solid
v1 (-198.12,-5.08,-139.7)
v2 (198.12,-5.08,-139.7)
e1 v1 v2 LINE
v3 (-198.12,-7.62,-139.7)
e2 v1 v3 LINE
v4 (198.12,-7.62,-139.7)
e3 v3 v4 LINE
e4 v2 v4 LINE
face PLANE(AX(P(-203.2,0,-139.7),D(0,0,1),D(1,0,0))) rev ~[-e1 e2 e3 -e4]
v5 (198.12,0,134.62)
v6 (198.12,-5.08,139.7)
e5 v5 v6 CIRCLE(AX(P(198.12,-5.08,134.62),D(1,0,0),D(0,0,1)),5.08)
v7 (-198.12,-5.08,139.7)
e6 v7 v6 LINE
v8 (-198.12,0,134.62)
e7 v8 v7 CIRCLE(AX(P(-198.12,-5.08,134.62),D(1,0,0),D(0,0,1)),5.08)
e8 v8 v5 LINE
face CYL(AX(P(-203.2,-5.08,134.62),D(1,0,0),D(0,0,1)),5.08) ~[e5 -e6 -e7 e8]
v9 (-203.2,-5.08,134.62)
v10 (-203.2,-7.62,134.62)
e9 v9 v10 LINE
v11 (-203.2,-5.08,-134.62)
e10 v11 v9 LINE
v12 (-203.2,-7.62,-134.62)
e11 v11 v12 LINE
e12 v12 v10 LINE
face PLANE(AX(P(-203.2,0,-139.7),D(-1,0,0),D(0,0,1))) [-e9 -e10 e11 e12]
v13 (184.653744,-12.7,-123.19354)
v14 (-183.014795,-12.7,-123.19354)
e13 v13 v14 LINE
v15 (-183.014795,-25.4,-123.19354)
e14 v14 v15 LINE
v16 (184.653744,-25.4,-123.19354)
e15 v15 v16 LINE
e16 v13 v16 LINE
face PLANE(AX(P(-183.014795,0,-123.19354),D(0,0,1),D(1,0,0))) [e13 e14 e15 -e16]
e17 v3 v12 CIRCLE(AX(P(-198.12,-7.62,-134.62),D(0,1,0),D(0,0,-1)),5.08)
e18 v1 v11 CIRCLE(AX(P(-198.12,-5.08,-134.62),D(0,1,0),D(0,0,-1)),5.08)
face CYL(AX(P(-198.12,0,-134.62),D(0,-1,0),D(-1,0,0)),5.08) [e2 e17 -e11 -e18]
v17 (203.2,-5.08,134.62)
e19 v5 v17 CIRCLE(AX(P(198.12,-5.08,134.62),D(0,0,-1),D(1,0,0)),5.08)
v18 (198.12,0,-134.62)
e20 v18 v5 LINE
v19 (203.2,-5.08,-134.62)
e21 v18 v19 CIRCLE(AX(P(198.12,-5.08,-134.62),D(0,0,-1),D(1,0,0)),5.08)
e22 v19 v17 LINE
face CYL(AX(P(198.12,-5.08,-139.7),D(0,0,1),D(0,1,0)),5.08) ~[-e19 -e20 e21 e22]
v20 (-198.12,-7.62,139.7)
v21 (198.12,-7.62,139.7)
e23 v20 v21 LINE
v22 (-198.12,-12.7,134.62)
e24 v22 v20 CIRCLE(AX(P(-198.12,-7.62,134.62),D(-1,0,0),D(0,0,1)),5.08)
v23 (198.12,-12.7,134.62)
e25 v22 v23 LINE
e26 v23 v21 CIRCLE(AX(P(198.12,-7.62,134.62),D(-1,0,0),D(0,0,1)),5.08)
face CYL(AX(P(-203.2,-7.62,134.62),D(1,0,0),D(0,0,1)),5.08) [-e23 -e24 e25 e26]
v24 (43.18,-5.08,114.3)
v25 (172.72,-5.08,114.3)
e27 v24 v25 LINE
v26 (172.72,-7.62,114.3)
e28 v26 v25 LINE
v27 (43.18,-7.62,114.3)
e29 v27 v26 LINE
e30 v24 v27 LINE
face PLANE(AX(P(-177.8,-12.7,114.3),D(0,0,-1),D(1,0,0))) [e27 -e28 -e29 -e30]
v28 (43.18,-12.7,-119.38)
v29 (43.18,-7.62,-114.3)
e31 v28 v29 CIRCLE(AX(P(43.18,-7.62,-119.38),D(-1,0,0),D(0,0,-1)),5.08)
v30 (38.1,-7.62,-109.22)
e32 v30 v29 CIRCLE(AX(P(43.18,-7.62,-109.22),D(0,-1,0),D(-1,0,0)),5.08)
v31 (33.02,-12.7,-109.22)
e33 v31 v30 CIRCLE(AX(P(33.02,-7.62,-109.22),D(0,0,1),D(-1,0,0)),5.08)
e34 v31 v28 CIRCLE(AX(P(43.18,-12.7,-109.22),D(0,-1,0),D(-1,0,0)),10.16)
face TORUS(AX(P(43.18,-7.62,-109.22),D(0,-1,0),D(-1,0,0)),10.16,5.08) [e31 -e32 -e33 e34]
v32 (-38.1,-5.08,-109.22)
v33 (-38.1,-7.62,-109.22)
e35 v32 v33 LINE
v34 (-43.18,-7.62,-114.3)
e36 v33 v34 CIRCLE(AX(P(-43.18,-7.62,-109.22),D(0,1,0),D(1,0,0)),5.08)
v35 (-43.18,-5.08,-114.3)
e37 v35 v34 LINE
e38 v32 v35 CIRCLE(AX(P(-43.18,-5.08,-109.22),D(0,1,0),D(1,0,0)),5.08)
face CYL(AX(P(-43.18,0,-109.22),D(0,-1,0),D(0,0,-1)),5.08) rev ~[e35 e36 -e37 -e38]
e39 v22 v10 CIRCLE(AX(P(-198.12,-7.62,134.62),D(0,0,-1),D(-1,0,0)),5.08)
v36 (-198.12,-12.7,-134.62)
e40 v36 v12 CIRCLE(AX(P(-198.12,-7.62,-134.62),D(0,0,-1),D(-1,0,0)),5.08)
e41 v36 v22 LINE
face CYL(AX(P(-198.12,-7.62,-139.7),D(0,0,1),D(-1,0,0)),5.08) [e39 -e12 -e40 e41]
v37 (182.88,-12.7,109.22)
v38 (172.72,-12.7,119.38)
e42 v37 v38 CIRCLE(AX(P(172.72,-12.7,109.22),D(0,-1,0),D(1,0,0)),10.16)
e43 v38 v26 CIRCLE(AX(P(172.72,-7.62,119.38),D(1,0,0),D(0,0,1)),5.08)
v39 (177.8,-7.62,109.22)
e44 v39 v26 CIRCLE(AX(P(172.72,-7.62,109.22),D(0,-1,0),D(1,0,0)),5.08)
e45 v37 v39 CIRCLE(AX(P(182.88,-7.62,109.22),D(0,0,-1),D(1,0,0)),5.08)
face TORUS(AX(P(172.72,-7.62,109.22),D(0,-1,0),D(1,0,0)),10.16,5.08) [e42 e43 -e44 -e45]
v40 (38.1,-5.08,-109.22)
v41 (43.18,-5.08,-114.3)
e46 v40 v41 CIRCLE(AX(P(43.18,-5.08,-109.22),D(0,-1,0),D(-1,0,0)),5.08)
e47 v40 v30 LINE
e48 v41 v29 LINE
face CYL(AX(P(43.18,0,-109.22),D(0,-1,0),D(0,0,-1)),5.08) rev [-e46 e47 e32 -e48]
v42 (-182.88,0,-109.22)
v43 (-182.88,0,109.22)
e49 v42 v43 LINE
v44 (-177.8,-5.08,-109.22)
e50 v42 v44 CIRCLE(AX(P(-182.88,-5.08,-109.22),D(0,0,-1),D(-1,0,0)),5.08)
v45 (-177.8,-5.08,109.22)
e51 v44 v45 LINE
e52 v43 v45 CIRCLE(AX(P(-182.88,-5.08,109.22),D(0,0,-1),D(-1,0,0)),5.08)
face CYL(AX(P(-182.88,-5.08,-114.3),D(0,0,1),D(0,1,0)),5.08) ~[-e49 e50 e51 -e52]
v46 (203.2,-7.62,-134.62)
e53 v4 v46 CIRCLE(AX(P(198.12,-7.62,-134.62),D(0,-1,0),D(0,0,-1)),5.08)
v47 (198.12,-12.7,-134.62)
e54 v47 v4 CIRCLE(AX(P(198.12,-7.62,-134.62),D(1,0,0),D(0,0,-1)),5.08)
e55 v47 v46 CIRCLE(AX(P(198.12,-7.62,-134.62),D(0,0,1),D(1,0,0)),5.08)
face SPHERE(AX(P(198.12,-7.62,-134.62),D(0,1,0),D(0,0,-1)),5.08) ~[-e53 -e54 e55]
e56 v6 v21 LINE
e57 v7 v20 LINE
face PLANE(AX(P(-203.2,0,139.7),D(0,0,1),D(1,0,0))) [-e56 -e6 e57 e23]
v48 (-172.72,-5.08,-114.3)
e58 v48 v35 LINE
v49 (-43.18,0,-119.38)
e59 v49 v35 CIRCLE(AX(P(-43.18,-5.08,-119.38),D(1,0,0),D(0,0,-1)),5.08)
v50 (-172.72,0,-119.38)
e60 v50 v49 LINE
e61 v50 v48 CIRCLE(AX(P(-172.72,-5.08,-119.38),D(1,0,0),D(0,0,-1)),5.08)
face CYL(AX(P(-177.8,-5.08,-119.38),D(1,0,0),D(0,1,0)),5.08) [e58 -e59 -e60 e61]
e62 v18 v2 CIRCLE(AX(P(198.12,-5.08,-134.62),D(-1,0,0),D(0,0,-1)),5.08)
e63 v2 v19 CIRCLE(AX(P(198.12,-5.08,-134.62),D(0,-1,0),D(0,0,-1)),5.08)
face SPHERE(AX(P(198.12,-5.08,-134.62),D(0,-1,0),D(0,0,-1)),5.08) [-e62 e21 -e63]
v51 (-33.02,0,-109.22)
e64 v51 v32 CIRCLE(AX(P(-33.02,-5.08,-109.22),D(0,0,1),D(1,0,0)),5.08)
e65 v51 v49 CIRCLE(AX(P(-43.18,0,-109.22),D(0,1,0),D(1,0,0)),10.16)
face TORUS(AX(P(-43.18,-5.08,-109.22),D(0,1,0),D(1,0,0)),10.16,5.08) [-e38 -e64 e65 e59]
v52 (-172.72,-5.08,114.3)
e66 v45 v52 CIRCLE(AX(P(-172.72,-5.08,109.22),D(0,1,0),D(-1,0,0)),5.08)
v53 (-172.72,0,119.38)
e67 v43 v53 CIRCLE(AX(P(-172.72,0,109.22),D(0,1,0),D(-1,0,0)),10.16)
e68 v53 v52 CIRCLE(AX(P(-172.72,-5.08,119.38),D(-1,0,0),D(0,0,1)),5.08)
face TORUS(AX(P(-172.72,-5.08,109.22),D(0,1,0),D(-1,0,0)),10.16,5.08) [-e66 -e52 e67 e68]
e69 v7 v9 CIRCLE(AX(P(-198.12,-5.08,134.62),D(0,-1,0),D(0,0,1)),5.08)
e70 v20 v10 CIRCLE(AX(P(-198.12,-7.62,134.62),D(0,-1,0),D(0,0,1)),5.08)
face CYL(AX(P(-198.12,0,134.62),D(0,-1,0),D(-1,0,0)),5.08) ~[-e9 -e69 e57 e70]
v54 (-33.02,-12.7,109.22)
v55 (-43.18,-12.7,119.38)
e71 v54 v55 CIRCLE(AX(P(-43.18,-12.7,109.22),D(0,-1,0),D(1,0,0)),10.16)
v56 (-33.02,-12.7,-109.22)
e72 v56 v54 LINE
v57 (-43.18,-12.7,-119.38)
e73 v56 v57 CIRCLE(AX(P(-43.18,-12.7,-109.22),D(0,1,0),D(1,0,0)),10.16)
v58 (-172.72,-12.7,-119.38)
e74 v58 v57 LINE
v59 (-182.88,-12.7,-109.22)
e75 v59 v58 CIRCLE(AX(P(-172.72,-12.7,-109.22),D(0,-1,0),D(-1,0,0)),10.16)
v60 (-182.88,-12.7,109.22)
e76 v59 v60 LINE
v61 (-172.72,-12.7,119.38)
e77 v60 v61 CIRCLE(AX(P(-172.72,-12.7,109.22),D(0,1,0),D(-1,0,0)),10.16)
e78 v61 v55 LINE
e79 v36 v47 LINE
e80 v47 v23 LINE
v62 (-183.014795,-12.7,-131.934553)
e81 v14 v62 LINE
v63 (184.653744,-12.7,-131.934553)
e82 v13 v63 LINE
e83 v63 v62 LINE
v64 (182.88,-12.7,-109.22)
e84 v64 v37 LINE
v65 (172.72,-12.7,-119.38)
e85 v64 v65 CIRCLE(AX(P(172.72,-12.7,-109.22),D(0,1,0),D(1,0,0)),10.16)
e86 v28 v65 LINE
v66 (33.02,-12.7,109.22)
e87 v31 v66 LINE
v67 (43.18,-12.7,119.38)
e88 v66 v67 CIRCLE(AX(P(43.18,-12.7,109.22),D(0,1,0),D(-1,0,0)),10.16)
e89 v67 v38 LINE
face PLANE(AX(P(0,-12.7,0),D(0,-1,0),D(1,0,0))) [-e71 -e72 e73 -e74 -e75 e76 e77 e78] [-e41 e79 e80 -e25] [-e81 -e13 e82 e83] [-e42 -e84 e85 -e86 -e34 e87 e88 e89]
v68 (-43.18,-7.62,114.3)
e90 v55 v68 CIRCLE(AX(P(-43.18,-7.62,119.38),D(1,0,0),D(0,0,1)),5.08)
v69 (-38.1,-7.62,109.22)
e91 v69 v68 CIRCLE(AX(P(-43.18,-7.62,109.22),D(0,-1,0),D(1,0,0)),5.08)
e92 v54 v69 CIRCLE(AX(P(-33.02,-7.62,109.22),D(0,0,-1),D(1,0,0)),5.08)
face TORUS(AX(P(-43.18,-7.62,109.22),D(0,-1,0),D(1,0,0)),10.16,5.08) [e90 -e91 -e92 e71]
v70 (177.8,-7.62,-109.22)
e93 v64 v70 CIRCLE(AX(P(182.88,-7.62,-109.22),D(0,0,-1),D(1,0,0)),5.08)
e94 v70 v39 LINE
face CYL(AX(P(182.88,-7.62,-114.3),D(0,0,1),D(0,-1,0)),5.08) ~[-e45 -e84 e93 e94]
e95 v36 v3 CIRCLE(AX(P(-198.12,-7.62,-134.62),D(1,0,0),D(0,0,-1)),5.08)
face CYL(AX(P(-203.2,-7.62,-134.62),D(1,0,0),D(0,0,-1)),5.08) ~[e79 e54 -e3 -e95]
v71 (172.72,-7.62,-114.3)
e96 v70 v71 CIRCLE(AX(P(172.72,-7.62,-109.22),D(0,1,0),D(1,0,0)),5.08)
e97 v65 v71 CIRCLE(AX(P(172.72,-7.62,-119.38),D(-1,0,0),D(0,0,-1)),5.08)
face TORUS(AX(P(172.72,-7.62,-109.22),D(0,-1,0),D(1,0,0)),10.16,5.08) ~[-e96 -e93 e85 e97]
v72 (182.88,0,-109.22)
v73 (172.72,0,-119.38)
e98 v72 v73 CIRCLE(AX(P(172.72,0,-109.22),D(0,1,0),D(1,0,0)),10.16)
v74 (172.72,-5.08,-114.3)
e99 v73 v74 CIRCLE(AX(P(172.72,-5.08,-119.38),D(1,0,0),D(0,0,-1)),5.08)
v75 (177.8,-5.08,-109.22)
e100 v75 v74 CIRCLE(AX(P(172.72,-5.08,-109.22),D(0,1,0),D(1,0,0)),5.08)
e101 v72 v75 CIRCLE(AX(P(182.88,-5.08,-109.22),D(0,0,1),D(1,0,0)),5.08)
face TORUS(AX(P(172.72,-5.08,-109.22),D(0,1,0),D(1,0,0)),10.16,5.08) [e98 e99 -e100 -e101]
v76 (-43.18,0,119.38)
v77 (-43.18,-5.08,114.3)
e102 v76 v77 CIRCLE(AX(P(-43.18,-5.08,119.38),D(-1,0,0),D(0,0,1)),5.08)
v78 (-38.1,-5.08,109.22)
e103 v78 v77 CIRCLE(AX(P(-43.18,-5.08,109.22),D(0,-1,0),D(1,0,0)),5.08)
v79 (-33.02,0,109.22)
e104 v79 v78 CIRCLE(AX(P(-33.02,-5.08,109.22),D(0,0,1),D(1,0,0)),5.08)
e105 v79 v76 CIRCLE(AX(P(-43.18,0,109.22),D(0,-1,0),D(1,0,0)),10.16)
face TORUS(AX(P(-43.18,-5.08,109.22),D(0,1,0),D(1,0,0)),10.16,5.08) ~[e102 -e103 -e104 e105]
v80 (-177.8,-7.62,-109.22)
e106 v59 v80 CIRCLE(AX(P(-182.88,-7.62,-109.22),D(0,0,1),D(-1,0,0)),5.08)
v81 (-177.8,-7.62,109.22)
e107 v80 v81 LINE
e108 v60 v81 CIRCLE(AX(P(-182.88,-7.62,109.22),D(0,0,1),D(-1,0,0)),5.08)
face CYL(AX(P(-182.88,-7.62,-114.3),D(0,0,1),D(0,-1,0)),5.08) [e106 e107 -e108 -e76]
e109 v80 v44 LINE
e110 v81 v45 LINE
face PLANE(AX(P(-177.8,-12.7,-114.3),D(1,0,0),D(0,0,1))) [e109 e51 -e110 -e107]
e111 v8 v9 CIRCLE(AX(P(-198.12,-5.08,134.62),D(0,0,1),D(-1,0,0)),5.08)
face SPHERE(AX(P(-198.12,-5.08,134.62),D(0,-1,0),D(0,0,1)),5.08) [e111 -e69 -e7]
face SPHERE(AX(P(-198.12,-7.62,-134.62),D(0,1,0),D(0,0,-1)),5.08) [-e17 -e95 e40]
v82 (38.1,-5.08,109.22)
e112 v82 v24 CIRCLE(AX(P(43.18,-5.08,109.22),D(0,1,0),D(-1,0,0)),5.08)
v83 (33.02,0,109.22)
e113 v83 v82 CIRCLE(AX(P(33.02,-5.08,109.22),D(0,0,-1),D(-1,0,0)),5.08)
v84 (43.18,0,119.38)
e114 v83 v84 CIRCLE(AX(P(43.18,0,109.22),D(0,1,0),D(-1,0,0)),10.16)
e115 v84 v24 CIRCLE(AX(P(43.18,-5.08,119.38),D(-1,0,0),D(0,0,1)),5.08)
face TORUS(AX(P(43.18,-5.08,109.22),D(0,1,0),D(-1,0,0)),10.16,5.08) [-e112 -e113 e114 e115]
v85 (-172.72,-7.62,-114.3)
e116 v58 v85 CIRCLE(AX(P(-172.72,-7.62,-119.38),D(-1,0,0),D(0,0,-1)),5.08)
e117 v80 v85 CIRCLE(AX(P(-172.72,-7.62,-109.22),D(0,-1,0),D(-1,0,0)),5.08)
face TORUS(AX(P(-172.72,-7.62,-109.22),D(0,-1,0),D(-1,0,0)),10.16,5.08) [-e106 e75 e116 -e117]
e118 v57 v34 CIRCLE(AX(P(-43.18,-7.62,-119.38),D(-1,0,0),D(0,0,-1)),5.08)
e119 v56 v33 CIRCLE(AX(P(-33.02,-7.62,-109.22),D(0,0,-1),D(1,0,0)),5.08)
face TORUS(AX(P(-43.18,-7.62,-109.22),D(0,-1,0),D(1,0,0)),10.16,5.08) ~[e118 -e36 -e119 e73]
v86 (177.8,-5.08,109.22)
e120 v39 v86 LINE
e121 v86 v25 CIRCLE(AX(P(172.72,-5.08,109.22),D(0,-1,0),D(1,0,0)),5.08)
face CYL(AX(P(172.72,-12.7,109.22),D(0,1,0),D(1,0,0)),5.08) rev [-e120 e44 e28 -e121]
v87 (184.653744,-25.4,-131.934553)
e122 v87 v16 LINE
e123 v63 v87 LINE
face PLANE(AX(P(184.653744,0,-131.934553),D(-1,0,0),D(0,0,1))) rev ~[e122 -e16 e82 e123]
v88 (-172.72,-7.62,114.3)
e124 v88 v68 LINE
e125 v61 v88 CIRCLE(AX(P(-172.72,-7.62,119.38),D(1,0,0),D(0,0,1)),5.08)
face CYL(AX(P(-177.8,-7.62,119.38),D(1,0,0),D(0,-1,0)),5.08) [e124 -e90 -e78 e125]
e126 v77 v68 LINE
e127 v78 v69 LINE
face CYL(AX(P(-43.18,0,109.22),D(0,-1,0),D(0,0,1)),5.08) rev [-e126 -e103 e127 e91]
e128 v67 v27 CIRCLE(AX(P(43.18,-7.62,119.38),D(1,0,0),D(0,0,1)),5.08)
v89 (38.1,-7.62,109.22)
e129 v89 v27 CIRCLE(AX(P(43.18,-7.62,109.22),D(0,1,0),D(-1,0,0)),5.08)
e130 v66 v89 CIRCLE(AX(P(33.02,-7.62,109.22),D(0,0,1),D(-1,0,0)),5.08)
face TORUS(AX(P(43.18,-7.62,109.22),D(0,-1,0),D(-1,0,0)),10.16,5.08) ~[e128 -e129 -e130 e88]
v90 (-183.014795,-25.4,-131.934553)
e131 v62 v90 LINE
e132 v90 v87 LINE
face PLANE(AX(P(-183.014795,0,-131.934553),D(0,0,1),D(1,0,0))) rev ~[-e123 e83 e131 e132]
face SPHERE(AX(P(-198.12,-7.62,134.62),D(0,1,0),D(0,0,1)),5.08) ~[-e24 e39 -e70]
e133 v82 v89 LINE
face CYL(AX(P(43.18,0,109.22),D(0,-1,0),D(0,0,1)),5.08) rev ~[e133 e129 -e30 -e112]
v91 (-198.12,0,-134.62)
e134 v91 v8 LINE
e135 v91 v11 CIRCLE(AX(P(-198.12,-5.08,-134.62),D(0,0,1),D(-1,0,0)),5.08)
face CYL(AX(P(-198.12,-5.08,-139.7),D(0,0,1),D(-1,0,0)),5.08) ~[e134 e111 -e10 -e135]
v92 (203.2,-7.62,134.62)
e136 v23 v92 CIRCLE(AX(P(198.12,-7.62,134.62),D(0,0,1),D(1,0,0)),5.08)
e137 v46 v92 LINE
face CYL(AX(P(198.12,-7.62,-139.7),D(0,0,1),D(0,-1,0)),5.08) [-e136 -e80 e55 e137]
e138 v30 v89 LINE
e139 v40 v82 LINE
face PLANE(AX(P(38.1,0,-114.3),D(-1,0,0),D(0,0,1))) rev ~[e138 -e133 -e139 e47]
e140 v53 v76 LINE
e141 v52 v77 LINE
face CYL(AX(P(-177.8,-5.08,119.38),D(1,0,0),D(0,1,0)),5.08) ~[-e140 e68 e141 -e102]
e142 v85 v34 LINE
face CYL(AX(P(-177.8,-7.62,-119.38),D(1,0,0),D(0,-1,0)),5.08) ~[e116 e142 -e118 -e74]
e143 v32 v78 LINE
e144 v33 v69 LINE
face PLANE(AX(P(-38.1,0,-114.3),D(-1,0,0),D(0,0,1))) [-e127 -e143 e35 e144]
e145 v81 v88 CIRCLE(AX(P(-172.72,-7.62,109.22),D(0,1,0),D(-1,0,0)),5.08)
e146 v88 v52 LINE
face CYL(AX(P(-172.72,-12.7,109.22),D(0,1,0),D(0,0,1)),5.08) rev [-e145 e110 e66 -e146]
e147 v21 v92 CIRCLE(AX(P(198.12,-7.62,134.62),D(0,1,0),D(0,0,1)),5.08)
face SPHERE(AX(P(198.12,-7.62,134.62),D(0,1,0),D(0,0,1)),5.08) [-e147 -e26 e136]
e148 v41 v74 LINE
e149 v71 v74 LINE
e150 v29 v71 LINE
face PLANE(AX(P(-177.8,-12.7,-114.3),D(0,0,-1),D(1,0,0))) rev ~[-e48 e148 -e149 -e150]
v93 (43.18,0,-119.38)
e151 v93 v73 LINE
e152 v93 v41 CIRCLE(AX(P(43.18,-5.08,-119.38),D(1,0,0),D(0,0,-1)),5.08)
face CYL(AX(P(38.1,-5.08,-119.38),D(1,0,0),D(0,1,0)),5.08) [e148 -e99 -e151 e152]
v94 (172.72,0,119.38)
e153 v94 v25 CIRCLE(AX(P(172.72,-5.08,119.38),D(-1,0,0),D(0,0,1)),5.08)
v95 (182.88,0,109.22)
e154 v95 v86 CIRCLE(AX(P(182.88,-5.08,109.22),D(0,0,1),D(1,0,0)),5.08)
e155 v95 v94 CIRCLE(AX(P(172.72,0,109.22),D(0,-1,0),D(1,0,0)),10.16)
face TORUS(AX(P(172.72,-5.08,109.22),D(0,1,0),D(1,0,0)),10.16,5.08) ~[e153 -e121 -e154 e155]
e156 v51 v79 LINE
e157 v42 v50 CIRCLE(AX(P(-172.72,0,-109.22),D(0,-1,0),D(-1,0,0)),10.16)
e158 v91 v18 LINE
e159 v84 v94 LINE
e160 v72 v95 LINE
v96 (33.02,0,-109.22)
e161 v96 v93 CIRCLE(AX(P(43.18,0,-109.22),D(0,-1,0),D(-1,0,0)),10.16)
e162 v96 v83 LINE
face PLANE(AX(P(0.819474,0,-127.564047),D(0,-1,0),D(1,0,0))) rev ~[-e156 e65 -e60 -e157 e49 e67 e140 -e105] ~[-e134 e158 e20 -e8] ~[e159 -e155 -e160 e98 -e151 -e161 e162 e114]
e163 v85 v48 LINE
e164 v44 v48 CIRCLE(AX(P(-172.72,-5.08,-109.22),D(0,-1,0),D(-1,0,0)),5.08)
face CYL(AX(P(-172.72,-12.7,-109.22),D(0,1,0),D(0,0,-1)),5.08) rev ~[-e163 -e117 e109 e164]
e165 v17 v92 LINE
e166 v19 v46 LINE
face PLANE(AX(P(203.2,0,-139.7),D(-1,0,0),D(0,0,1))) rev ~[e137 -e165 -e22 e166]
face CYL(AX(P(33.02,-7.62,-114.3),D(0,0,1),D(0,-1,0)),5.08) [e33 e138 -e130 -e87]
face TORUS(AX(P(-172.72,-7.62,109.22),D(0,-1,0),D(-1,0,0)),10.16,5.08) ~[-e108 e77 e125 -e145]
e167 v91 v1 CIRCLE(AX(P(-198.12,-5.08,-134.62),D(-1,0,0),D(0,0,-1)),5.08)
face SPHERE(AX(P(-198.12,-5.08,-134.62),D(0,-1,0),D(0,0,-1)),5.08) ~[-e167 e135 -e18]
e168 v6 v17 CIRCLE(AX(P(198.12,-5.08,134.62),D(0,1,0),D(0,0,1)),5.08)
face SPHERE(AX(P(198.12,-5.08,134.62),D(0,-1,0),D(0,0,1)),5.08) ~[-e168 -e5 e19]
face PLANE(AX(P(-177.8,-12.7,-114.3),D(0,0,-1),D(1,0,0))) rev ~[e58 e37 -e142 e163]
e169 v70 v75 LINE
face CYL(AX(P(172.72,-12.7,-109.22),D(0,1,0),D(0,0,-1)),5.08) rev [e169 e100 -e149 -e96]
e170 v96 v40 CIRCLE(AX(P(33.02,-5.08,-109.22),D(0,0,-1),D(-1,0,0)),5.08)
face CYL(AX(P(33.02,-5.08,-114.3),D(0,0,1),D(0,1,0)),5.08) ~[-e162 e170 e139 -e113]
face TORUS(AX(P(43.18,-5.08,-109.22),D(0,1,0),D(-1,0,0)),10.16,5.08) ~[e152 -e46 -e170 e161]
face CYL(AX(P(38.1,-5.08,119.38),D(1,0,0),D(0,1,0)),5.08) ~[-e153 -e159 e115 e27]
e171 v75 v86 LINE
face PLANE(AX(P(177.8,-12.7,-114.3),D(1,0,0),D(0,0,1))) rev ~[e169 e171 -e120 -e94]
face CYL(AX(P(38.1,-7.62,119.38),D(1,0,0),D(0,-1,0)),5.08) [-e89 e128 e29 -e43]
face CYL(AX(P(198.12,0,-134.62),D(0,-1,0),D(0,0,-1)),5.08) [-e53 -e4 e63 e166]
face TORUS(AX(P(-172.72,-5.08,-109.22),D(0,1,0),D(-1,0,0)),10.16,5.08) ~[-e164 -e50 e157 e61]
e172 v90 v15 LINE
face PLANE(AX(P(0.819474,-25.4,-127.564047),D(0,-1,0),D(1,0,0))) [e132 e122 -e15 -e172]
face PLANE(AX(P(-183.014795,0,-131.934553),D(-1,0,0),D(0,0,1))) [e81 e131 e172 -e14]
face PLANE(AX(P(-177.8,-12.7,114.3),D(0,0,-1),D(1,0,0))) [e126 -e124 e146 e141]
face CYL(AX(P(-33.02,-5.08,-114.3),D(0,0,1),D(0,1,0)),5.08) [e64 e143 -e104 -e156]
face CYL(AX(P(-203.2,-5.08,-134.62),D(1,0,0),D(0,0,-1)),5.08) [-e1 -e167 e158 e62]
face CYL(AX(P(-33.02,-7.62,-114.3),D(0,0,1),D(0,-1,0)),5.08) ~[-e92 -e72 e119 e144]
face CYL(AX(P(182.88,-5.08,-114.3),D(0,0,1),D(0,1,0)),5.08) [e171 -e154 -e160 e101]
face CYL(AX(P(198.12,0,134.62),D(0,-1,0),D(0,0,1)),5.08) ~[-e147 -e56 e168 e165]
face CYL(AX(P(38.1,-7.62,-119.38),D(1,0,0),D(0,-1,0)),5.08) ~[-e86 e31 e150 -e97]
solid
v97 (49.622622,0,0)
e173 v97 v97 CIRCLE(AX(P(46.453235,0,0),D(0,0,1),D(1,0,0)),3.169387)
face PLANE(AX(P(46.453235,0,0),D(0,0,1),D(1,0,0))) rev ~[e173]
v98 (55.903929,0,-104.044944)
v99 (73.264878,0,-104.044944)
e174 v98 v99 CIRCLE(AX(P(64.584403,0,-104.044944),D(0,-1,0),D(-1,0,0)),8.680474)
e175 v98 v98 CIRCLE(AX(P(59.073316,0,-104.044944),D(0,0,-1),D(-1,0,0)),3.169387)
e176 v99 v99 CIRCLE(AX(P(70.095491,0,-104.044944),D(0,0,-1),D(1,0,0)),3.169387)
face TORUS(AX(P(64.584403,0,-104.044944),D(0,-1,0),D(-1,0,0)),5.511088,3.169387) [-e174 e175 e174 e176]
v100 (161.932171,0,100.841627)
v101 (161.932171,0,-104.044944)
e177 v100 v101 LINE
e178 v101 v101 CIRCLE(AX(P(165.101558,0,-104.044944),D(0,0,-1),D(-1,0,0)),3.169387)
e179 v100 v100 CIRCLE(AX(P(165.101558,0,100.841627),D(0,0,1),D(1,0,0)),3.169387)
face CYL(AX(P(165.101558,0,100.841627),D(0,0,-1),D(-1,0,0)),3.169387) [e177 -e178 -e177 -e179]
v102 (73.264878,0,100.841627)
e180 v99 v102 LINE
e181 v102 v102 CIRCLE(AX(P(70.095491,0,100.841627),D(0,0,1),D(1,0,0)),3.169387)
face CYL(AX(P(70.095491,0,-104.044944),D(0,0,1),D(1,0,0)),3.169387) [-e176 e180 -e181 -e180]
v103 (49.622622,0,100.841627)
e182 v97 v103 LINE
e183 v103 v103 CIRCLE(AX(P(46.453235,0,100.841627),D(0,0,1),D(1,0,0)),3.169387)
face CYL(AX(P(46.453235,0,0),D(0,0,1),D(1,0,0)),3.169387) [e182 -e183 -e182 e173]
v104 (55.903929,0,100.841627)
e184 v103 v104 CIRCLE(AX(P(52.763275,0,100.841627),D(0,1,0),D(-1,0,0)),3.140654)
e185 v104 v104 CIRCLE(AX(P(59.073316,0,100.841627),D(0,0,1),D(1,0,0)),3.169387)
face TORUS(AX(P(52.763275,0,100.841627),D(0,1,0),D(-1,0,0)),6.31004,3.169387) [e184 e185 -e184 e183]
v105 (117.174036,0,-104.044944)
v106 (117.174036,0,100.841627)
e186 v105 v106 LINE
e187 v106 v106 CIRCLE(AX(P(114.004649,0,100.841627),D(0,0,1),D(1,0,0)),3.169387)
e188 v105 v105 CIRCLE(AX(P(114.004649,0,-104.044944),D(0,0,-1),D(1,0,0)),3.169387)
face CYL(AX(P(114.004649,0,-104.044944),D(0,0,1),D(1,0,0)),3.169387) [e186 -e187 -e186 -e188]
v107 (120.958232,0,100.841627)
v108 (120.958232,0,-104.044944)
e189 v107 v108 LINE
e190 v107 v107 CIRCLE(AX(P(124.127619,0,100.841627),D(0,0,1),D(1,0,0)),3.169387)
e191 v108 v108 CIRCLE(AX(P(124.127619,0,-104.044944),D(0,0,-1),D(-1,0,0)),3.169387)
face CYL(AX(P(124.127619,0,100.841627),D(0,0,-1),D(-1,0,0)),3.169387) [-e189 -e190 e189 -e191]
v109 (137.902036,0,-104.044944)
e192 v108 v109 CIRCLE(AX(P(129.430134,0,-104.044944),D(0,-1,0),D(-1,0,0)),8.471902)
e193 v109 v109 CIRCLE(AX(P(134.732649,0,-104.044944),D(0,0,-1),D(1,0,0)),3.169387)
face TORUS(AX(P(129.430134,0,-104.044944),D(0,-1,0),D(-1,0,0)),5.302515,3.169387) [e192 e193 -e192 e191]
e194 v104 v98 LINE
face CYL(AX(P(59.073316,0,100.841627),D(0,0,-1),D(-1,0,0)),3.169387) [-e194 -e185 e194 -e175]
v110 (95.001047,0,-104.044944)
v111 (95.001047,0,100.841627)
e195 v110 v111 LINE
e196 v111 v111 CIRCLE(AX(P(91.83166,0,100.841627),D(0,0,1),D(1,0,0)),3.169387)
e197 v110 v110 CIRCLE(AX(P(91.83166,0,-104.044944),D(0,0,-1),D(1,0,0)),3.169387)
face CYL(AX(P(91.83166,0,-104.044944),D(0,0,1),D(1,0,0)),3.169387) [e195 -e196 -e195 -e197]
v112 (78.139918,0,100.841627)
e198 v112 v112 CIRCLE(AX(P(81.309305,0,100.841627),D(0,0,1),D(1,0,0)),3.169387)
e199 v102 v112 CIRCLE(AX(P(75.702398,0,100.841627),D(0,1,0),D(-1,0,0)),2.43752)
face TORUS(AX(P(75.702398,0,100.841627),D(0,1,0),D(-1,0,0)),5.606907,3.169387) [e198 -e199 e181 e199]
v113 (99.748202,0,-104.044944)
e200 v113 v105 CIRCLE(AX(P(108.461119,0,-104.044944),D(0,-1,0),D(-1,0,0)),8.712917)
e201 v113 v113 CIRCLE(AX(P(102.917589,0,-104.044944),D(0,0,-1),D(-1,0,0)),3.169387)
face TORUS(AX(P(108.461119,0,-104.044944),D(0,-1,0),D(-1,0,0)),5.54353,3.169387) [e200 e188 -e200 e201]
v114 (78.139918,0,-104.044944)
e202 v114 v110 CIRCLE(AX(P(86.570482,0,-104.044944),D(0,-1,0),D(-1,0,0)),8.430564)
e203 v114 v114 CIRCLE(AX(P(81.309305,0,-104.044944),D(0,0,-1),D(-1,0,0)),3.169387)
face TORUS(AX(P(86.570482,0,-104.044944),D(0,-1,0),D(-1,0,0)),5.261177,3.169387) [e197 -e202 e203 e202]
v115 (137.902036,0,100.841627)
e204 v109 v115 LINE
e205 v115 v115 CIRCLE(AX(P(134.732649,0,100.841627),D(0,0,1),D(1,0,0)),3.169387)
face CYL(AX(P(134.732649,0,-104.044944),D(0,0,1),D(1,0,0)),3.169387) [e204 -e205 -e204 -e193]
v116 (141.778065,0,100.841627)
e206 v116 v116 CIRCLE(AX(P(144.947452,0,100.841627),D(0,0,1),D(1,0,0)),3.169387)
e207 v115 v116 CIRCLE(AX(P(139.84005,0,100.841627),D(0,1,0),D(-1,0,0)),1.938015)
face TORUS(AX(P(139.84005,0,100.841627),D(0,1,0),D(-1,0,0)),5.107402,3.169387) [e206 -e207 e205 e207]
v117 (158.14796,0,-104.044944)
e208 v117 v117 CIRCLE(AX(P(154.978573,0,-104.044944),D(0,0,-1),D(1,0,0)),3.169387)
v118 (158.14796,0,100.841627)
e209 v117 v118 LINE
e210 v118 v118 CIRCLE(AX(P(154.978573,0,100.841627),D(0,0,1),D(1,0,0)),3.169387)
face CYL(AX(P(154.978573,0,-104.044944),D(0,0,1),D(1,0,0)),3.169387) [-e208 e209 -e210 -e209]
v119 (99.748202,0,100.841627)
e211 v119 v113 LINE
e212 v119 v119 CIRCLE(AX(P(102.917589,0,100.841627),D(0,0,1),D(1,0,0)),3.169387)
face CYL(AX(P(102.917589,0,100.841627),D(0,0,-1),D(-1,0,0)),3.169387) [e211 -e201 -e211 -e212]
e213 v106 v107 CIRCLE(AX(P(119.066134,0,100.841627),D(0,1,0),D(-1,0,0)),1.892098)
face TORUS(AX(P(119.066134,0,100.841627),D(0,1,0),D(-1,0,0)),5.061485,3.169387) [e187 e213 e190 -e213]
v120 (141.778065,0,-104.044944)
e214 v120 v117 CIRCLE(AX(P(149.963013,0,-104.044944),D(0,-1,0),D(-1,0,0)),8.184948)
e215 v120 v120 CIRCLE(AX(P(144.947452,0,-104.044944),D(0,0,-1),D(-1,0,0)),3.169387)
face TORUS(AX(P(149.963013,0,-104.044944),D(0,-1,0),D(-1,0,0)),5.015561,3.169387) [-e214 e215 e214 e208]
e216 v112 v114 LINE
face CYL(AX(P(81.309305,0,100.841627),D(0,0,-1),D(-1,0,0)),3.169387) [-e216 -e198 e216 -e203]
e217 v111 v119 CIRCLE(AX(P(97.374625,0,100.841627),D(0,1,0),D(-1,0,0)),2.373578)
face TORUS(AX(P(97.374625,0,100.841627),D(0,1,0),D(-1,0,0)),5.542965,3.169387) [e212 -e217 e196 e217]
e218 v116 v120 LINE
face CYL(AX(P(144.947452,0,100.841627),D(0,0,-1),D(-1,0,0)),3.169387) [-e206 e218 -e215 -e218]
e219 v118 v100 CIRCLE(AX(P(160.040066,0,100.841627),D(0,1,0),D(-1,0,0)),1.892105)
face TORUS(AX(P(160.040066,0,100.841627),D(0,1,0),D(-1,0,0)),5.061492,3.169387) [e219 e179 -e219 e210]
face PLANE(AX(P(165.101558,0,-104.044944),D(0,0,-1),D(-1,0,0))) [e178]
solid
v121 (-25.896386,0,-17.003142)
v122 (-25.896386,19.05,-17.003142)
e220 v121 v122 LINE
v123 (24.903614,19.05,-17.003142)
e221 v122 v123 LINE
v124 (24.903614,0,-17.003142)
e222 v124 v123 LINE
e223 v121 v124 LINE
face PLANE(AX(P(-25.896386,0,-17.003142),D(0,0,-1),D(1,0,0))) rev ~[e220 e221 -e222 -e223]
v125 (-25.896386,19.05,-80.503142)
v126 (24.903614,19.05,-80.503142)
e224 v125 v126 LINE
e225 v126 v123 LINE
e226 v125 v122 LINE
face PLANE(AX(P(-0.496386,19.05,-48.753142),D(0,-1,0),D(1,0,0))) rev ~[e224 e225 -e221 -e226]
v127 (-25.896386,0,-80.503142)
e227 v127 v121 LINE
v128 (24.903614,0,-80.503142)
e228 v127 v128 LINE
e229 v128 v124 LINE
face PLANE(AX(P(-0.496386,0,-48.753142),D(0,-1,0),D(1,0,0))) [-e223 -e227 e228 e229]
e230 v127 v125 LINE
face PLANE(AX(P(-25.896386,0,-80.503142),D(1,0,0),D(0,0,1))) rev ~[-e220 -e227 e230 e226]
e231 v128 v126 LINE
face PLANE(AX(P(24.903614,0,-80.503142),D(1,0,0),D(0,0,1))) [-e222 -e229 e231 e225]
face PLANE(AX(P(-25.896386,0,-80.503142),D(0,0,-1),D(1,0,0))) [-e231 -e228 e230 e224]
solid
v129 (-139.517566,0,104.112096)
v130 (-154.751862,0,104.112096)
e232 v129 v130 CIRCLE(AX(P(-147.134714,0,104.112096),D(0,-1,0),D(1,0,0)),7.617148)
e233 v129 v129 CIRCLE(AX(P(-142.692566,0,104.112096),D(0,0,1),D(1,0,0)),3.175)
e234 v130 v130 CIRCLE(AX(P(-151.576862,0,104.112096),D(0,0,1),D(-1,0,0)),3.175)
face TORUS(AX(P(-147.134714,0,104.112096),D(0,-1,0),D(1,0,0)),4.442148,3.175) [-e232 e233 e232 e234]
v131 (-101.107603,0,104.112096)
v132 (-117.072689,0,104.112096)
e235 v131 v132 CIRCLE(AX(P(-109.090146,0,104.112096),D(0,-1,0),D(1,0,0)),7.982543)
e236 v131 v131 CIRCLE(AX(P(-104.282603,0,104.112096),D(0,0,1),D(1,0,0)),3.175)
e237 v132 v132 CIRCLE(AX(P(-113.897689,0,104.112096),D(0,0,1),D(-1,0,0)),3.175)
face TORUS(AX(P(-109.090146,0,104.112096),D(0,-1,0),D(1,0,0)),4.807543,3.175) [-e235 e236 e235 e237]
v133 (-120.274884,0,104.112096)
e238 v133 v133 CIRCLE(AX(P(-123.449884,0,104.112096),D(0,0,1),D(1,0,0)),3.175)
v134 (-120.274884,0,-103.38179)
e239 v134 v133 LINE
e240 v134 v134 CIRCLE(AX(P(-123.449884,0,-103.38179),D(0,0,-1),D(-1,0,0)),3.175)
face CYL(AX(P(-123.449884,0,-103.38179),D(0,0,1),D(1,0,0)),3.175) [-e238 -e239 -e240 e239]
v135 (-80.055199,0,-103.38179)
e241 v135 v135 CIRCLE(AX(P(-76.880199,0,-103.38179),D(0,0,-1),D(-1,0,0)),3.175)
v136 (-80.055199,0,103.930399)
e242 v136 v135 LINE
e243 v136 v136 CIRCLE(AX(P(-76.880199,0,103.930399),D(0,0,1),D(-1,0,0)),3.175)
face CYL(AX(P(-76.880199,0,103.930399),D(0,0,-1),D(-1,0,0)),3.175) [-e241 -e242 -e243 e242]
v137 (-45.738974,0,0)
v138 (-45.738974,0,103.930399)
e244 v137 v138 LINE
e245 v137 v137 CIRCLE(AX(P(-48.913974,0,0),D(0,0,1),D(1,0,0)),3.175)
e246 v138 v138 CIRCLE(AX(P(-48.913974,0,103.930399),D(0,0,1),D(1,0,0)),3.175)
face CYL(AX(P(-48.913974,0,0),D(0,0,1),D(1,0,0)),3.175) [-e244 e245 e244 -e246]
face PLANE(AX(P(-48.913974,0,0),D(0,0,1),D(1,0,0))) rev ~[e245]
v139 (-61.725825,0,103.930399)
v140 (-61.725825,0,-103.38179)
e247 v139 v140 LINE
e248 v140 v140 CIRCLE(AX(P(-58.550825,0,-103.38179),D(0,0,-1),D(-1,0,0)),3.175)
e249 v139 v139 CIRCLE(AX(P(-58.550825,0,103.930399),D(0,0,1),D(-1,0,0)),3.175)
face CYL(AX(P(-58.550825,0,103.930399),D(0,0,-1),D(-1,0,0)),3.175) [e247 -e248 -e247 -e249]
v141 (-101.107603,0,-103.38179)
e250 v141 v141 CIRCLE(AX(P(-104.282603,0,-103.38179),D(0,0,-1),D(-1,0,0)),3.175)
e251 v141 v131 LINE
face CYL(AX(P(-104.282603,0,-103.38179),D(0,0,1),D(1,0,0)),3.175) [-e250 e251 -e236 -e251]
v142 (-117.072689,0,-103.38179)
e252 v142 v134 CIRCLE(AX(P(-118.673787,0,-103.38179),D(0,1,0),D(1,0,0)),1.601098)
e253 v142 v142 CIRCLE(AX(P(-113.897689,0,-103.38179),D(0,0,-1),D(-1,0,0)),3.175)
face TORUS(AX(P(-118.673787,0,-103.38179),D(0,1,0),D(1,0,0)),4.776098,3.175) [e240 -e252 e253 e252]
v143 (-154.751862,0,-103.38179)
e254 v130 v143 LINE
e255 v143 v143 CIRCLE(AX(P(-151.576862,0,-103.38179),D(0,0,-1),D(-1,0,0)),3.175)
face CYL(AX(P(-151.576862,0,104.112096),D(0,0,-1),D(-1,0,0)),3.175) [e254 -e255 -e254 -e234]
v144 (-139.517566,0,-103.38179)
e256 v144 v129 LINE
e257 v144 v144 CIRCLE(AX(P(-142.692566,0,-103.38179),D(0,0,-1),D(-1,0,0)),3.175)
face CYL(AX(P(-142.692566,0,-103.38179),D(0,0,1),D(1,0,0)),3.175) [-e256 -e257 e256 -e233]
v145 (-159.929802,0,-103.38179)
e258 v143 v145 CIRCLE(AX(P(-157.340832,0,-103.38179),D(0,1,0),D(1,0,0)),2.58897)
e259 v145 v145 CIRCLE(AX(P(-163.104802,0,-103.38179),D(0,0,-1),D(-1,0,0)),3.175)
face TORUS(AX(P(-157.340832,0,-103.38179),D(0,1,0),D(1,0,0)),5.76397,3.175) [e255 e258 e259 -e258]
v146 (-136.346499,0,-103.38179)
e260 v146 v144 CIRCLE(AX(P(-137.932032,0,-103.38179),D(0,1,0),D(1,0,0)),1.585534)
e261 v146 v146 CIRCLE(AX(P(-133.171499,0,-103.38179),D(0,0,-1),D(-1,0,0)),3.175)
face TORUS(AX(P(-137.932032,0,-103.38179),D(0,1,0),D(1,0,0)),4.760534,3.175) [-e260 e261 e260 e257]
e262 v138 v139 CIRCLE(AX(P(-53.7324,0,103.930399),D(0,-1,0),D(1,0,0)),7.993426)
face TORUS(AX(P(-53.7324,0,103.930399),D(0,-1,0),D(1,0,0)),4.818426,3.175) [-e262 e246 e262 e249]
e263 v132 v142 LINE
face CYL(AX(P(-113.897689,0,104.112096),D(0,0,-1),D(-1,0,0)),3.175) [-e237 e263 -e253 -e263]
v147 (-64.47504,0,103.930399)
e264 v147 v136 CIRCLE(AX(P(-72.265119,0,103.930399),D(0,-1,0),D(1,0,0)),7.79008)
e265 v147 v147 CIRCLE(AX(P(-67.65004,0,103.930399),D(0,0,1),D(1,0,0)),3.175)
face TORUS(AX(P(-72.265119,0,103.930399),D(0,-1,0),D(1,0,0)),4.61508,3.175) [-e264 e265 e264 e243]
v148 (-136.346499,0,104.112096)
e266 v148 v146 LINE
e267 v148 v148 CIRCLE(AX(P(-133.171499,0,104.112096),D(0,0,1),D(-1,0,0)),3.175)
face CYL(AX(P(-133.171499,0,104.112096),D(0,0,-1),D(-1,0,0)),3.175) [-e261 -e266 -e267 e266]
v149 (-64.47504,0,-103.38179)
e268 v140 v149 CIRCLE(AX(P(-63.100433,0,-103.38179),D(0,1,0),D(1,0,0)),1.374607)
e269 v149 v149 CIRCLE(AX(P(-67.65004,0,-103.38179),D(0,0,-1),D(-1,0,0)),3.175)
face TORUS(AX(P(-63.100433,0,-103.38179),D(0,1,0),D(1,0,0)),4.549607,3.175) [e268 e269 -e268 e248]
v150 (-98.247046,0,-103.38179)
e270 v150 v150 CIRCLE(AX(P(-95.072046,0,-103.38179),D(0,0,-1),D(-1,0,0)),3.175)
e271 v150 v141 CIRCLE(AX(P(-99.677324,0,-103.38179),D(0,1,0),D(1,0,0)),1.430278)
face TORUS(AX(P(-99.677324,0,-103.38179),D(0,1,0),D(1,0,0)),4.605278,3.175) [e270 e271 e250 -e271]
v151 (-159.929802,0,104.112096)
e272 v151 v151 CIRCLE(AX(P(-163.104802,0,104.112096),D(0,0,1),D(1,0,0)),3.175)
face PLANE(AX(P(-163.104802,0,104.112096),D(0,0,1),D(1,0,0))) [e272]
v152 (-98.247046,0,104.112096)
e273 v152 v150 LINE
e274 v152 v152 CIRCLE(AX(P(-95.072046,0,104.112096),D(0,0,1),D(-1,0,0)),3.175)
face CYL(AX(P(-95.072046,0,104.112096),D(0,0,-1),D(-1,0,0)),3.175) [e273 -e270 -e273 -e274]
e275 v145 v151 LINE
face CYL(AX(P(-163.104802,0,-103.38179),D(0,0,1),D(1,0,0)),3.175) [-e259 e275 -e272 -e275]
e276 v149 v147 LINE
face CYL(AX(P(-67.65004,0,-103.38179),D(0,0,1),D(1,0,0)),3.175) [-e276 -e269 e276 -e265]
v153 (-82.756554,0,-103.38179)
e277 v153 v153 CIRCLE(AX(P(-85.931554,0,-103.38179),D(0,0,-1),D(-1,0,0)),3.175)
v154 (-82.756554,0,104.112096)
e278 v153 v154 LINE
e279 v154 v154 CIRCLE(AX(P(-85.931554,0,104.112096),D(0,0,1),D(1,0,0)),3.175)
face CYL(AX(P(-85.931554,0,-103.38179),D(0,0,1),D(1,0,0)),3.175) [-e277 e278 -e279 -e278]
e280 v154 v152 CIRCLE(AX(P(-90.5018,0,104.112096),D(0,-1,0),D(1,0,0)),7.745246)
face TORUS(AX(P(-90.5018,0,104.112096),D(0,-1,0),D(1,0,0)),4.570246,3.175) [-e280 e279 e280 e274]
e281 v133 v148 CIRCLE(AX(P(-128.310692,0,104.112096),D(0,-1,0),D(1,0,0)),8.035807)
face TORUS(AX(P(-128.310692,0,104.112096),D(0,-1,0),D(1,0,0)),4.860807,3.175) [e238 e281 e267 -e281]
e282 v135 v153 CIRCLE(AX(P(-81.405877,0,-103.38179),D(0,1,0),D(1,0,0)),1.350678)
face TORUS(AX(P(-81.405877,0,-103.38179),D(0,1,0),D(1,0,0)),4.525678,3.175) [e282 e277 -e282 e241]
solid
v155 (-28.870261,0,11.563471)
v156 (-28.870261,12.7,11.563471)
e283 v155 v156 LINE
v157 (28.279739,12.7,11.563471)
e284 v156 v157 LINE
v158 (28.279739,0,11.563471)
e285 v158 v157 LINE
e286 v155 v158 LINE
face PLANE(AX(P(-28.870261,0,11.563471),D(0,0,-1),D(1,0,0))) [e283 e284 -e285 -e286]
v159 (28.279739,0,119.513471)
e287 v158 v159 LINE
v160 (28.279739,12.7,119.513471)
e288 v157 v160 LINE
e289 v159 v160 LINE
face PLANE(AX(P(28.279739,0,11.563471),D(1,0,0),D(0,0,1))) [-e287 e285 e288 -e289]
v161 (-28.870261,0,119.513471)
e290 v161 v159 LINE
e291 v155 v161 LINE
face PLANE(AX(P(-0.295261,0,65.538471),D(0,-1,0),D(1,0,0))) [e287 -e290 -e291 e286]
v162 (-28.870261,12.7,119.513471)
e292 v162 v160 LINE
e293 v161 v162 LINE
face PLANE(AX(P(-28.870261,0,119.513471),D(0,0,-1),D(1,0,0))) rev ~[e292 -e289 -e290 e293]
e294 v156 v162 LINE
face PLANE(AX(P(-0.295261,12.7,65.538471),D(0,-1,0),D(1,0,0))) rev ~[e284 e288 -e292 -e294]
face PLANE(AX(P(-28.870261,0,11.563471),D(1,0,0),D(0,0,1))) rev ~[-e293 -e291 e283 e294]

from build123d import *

# Parameters (mm, degrees)
F0_W      = 406.4
F0_H      = 279.4
F1_DEPTH  = 12.7
F2_W      = 355.6
F2_H      = 228.6
F3_DEPTH  = 12.7
F4_W      = 76.2
F4_H      = 228.6
F5_DEPTH  = 12.7
F6_R      = 5.08
F8_R      = 3.1693868875
F11_R     = 3.175
F13_W     = 367.6685392857
F13_H     = 8.7410137057
F14_DEPTH = 25.4
F15_W     = 57.15
F15_H     = 107.95
F16_DEPTH = 12.7
F17_W     = 50.8
F17_H     = 63.5
F18_DEPTH = 19.05


with BuildPart() as f1:
    # F0 (on Front) → F1 (new body)
    with BuildSketch(Plane.XZ):
        Rectangle(F0_W, F0_H)
    extrude(amount=F1_DEPTH)

    # F2 (on face) → F3 (cut)
    with BuildSketch(Plane.XZ.offset(12.7)):
        Rectangle(F2_W, F2_H)
    extrude(amount=-F3_DEPTH, mode=Mode.SUBTRACT)

    # F4 (on Front) → F5 (join)
    with BuildSketch(Plane.XZ):
        Rectangle(F4_W, F4_H)
    extrude(amount=F5_DEPTH)

    # F6
    f6_edges = [f1.edges().sort_by_distance(p)[0] for p in [
        (203.2, -6.35, 139.7),
        (-203.2, -6.35, 139.7),
        (0, 0, 139.7),
        (0, -12.7, 139.7),
        (-203.2, -6.35, -139.7),
        (203.2, -6.35, -139.7),
        (0, 0, -139.7),
        (0, -12.7, -139.7),
        (-203.2, 0, 0),
        (-203.2, -12.7, 0),
        (203.2, 0, 0),
        (203.2, -12.7, 0),
        (-177.8, -6.35, 114.3),
        (-177.8, -6.35, -114.3),
        (-177.8, -12.7, 0),
        (-177.8, 0, 0),
        (177.8, -6.35, -114.3),
        (177.8, -6.35, 114.3),
        (177.8, -12.7, 0),
        (177.8, 0, 0),
        (-38.1, -6.35, 114.3),
        (-38.1, -6.35, -114.3),
        (-38.1, 0, 0),
        (-38.1, -12.7, 0),
        (38.1, -6.35, -114.3),
        (38.1, -6.35, 114.3),
        (38.1, 0, 0),
        (38.1, -12.7, 0),
        (107.95, 0, 114.3),
        (107.95, 0, -114.3),
        (-107.95, 0, 114.3),
        (-107.95, 0, -114.3),
        (107.95, -12.7, 114.3),
        (107.95, -12.7, -114.3),
        (-107.95, -12.7, 114.3),
        (-107.95, -12.7, -114.3),
    ]]
    fillet(f6_edges, radius=F6_R)

    # F13 (on Front) → F14 (join)
    with BuildSketch(Plane.XZ):
        with Locations((0.8194744587, -127.5640465319)):
            Rectangle(F13_W, F13_H)
    extrude(amount=F14_DEPTH)


with BuildPart() as f9:
    # F9: sweep along a path in F7
    with BuildLine(Plane.XZ) as f9_path:
        Line((46.4532346726, 0), (46.4532346726, 100.8416265249))
        ThreePointArc((46.4532346726, 100.8416265249), (52.7632751087, 107.1516669611), (59.0733155449, 100.8416265249))
        Line((59.0733155449, 100.8416265249), (59.0733155449, -104.0449440479))
        ThreePointArc((59.0733155449, -104.0449440479), (64.5844031333, -109.5560316363), (70.0954907217, -104.0449440479))
        Line((70.0954907217, -104.0449440479), (70.0954907217, 100.8416265249))
        ThreePointArc((70.0954907217, 100.8416265249), (75.7023978857, 106.4485336889), (81.3093050497, 100.8416265249))
        Line((81.3093050497, 100.8416265249), (81.3093050497, -104.0449440479))
        ThreePointArc((81.3093050497, -104.0449440479), (86.5704824427, -109.3061214409), (91.8316598356, -104.0449440479))
        Line((91.8316598356, -104.0449440479), (91.8316598356, 100.8416265249))
        ThreePointArc((91.8316598356, 100.8416265249), (97.3746245414, 106.3845912307), (102.9175892472, 100.8416265249))
        Line((102.9175892472, 100.8416265249), (102.9175892472, -104.0449440479))
        ThreePointArc((102.9175892472, -104.0449440479), (108.4611192346, -109.5884740353), (114.0046492219, -104.0449440479))
        Line((114.0046492219, -104.0449440479), (114.0046492219, 100.8416265249))
        ThreePointArc((114.0046492219, 100.8416265249), (119.0661340952, 105.9031113982), (124.1276189685, 100.8416265249))
        Line((124.1276189685, 100.8416265249), (124.1276189685, -104.0449440479))
        ThreePointArc((124.1276189685, -104.0449440479), (129.4301338494, -109.3474589288), (134.7326487303, -104.0449440479))
        Line((134.7326487303, -104.0449440479), (134.7326487303, 100.8416265249))
        ThreePointArc((134.7326487303, 100.8416265249), (139.8400503664, 105.949028161), (144.9474520025, 100.8416265249))
        Line((144.9474520025, 100.8416265249), (144.9474520025, -104.0449440479))
        ThreePointArc((144.9474520025, -104.0449440479), (149.9630126624, -109.0605047078), (154.9785733223, -104.0449440479))
        Line((154.9785733223, -104.0449440479), (154.9785733223, 100.8416265249))
        ThreePointArc((154.9785733223, 100.8416265249), (160.0400656462, 105.9031188488), (165.10155797, 100.8416265249))
        Line((165.10155797, 100.8416265249), (165.10155797, -104.0449440479))
    # F8 (on Top) → F9 (sweep)
    with BuildSketch(Plane.XY):
        with Locations((46.4532346726, 0)):
            Circle(F8_R)
    sweep(path=f9_path.line)


with BuildPart() as f12:
    # F12: sweep along a path in F10
    with BuildLine(Plane.XZ) as f12_path:
        Line((-48.9139740207, 0), (-48.9139740207, 103.9303988218))
        ThreePointArc((-48.9139740207, 103.9303988218), (-53.7323997251, 108.7488245262), (-58.5508254295, 103.9303988218))
        Line((-58.5508254295, 103.9303988218), (-58.5508254295, -103.3817902207))
        ThreePointArc((-58.5508254295, -103.3817902207), (-63.1004325031, -107.9313972943), (-67.6500395767, -103.3817902207))
        Line((-67.6500395767, -103.3817902207), (-67.6500395767, 103.9303988218))
        ThreePointArc((-67.6500395767, 103.9303988218), (-72.2651191882, 108.5454784334), (-76.8801987998, 103.9303988218))
        Line((-76.8801987998, 103.9303988218), (-76.8801987998, -103.3817902207))
        ThreePointArc((-76.8801987998, -103.3817902207), (-81.4058766182, -107.9074680392), (-85.9315544367, -103.3817902207))
        Line((-85.9315544367, -103.3817902207), (-85.9315544367, 104.1120961308))
        ThreePointArc((-85.9315544367, 104.1120961308), (-90.5018001795, 108.6823418736), (-95.0720459223, 104.1120961308))
        Line((-95.0720459223, 104.1120961308), (-95.0720459223, -103.3817902207))
        ThreePointArc((-95.0720459223, -103.3817902207), (-99.677324295, -107.9870685935), (-104.2826026678, -103.3817902207))
        Line((-104.2826026678, -103.3817902207), (-104.2826026678, 104.1120961308))
        ThreePointArc((-104.2826026678, 104.1120961308), (-109.0901456773, 108.9196391404), (-113.8976886868, 104.1120961308))
        Line((-113.8976886868, 104.1120961308), (-113.8976886868, -103.3817902207))
        ThreePointArc((-113.8976886868, -103.3817902207), (-118.673786521, -108.1578880548), (-123.4498843551, -103.3817902207))
        Line((-123.4498843551, -103.3817902207), (-123.4498843551, 104.1120961308))
        ThreePointArc((-123.4498843551, 104.1120961308), (-128.3106915653, 108.9729033411), (-133.1714987755, 104.1120961308))
        Line((-133.1714987755, 104.1120961308), (-133.1714987755, -103.3817902207))
        ThreePointArc((-133.1714987755, -103.3817902207), (-137.9320323467, -108.142323792), (-142.692565918, -103.3817902207))
        Line((-142.692565918, -103.3817902207), (-142.692565918, 104.1120961308))
        ThreePointArc((-142.692565918, 104.1120961308), (-147.1347138286, 108.5542440414), (-151.5768617392, 104.1120961308))
        Line((-151.5768617392, 104.1120961308), (-151.5768617392, -103.3817902207))
        ThreePointArc((-151.5768617392, -103.3817902207), (-157.3408320546, -109.1457605362), (-163.1048023701, -103.3817902207))
        Line((-163.1048023701, -103.3817902207), (-163.1048023701, 104.1120961308))
    # F11 (on Top) → F12 (sweep)
    with BuildSketch(Plane.XY):
        with Locations((-48.9139740207, 0)):
            Circle(F11_R)
    sweep(path=f12_path.line)


with BuildPart() as f16:
    # F15 (on Front) → F16 (new body)
    with BuildSketch(Plane.XZ):
        with Locations((-0.2952609211, 65.5384714989)):
            Rectangle(F15_W, F15_H)
    extrude(amount=-F16_DEPTH)


with BuildPart() as f18:
    # F17 (on Front) → F18 (new body)
    with BuildSketch(Plane.XZ):
        with Locations((-0.496385619, -48.7531421969)):
            Rectangle(F17_W, F17_H)
    extrude(amount=-F18_DEPTH)


solid = Compound([f1.part, f9.part, f12.part, f16.part, f18.part])
